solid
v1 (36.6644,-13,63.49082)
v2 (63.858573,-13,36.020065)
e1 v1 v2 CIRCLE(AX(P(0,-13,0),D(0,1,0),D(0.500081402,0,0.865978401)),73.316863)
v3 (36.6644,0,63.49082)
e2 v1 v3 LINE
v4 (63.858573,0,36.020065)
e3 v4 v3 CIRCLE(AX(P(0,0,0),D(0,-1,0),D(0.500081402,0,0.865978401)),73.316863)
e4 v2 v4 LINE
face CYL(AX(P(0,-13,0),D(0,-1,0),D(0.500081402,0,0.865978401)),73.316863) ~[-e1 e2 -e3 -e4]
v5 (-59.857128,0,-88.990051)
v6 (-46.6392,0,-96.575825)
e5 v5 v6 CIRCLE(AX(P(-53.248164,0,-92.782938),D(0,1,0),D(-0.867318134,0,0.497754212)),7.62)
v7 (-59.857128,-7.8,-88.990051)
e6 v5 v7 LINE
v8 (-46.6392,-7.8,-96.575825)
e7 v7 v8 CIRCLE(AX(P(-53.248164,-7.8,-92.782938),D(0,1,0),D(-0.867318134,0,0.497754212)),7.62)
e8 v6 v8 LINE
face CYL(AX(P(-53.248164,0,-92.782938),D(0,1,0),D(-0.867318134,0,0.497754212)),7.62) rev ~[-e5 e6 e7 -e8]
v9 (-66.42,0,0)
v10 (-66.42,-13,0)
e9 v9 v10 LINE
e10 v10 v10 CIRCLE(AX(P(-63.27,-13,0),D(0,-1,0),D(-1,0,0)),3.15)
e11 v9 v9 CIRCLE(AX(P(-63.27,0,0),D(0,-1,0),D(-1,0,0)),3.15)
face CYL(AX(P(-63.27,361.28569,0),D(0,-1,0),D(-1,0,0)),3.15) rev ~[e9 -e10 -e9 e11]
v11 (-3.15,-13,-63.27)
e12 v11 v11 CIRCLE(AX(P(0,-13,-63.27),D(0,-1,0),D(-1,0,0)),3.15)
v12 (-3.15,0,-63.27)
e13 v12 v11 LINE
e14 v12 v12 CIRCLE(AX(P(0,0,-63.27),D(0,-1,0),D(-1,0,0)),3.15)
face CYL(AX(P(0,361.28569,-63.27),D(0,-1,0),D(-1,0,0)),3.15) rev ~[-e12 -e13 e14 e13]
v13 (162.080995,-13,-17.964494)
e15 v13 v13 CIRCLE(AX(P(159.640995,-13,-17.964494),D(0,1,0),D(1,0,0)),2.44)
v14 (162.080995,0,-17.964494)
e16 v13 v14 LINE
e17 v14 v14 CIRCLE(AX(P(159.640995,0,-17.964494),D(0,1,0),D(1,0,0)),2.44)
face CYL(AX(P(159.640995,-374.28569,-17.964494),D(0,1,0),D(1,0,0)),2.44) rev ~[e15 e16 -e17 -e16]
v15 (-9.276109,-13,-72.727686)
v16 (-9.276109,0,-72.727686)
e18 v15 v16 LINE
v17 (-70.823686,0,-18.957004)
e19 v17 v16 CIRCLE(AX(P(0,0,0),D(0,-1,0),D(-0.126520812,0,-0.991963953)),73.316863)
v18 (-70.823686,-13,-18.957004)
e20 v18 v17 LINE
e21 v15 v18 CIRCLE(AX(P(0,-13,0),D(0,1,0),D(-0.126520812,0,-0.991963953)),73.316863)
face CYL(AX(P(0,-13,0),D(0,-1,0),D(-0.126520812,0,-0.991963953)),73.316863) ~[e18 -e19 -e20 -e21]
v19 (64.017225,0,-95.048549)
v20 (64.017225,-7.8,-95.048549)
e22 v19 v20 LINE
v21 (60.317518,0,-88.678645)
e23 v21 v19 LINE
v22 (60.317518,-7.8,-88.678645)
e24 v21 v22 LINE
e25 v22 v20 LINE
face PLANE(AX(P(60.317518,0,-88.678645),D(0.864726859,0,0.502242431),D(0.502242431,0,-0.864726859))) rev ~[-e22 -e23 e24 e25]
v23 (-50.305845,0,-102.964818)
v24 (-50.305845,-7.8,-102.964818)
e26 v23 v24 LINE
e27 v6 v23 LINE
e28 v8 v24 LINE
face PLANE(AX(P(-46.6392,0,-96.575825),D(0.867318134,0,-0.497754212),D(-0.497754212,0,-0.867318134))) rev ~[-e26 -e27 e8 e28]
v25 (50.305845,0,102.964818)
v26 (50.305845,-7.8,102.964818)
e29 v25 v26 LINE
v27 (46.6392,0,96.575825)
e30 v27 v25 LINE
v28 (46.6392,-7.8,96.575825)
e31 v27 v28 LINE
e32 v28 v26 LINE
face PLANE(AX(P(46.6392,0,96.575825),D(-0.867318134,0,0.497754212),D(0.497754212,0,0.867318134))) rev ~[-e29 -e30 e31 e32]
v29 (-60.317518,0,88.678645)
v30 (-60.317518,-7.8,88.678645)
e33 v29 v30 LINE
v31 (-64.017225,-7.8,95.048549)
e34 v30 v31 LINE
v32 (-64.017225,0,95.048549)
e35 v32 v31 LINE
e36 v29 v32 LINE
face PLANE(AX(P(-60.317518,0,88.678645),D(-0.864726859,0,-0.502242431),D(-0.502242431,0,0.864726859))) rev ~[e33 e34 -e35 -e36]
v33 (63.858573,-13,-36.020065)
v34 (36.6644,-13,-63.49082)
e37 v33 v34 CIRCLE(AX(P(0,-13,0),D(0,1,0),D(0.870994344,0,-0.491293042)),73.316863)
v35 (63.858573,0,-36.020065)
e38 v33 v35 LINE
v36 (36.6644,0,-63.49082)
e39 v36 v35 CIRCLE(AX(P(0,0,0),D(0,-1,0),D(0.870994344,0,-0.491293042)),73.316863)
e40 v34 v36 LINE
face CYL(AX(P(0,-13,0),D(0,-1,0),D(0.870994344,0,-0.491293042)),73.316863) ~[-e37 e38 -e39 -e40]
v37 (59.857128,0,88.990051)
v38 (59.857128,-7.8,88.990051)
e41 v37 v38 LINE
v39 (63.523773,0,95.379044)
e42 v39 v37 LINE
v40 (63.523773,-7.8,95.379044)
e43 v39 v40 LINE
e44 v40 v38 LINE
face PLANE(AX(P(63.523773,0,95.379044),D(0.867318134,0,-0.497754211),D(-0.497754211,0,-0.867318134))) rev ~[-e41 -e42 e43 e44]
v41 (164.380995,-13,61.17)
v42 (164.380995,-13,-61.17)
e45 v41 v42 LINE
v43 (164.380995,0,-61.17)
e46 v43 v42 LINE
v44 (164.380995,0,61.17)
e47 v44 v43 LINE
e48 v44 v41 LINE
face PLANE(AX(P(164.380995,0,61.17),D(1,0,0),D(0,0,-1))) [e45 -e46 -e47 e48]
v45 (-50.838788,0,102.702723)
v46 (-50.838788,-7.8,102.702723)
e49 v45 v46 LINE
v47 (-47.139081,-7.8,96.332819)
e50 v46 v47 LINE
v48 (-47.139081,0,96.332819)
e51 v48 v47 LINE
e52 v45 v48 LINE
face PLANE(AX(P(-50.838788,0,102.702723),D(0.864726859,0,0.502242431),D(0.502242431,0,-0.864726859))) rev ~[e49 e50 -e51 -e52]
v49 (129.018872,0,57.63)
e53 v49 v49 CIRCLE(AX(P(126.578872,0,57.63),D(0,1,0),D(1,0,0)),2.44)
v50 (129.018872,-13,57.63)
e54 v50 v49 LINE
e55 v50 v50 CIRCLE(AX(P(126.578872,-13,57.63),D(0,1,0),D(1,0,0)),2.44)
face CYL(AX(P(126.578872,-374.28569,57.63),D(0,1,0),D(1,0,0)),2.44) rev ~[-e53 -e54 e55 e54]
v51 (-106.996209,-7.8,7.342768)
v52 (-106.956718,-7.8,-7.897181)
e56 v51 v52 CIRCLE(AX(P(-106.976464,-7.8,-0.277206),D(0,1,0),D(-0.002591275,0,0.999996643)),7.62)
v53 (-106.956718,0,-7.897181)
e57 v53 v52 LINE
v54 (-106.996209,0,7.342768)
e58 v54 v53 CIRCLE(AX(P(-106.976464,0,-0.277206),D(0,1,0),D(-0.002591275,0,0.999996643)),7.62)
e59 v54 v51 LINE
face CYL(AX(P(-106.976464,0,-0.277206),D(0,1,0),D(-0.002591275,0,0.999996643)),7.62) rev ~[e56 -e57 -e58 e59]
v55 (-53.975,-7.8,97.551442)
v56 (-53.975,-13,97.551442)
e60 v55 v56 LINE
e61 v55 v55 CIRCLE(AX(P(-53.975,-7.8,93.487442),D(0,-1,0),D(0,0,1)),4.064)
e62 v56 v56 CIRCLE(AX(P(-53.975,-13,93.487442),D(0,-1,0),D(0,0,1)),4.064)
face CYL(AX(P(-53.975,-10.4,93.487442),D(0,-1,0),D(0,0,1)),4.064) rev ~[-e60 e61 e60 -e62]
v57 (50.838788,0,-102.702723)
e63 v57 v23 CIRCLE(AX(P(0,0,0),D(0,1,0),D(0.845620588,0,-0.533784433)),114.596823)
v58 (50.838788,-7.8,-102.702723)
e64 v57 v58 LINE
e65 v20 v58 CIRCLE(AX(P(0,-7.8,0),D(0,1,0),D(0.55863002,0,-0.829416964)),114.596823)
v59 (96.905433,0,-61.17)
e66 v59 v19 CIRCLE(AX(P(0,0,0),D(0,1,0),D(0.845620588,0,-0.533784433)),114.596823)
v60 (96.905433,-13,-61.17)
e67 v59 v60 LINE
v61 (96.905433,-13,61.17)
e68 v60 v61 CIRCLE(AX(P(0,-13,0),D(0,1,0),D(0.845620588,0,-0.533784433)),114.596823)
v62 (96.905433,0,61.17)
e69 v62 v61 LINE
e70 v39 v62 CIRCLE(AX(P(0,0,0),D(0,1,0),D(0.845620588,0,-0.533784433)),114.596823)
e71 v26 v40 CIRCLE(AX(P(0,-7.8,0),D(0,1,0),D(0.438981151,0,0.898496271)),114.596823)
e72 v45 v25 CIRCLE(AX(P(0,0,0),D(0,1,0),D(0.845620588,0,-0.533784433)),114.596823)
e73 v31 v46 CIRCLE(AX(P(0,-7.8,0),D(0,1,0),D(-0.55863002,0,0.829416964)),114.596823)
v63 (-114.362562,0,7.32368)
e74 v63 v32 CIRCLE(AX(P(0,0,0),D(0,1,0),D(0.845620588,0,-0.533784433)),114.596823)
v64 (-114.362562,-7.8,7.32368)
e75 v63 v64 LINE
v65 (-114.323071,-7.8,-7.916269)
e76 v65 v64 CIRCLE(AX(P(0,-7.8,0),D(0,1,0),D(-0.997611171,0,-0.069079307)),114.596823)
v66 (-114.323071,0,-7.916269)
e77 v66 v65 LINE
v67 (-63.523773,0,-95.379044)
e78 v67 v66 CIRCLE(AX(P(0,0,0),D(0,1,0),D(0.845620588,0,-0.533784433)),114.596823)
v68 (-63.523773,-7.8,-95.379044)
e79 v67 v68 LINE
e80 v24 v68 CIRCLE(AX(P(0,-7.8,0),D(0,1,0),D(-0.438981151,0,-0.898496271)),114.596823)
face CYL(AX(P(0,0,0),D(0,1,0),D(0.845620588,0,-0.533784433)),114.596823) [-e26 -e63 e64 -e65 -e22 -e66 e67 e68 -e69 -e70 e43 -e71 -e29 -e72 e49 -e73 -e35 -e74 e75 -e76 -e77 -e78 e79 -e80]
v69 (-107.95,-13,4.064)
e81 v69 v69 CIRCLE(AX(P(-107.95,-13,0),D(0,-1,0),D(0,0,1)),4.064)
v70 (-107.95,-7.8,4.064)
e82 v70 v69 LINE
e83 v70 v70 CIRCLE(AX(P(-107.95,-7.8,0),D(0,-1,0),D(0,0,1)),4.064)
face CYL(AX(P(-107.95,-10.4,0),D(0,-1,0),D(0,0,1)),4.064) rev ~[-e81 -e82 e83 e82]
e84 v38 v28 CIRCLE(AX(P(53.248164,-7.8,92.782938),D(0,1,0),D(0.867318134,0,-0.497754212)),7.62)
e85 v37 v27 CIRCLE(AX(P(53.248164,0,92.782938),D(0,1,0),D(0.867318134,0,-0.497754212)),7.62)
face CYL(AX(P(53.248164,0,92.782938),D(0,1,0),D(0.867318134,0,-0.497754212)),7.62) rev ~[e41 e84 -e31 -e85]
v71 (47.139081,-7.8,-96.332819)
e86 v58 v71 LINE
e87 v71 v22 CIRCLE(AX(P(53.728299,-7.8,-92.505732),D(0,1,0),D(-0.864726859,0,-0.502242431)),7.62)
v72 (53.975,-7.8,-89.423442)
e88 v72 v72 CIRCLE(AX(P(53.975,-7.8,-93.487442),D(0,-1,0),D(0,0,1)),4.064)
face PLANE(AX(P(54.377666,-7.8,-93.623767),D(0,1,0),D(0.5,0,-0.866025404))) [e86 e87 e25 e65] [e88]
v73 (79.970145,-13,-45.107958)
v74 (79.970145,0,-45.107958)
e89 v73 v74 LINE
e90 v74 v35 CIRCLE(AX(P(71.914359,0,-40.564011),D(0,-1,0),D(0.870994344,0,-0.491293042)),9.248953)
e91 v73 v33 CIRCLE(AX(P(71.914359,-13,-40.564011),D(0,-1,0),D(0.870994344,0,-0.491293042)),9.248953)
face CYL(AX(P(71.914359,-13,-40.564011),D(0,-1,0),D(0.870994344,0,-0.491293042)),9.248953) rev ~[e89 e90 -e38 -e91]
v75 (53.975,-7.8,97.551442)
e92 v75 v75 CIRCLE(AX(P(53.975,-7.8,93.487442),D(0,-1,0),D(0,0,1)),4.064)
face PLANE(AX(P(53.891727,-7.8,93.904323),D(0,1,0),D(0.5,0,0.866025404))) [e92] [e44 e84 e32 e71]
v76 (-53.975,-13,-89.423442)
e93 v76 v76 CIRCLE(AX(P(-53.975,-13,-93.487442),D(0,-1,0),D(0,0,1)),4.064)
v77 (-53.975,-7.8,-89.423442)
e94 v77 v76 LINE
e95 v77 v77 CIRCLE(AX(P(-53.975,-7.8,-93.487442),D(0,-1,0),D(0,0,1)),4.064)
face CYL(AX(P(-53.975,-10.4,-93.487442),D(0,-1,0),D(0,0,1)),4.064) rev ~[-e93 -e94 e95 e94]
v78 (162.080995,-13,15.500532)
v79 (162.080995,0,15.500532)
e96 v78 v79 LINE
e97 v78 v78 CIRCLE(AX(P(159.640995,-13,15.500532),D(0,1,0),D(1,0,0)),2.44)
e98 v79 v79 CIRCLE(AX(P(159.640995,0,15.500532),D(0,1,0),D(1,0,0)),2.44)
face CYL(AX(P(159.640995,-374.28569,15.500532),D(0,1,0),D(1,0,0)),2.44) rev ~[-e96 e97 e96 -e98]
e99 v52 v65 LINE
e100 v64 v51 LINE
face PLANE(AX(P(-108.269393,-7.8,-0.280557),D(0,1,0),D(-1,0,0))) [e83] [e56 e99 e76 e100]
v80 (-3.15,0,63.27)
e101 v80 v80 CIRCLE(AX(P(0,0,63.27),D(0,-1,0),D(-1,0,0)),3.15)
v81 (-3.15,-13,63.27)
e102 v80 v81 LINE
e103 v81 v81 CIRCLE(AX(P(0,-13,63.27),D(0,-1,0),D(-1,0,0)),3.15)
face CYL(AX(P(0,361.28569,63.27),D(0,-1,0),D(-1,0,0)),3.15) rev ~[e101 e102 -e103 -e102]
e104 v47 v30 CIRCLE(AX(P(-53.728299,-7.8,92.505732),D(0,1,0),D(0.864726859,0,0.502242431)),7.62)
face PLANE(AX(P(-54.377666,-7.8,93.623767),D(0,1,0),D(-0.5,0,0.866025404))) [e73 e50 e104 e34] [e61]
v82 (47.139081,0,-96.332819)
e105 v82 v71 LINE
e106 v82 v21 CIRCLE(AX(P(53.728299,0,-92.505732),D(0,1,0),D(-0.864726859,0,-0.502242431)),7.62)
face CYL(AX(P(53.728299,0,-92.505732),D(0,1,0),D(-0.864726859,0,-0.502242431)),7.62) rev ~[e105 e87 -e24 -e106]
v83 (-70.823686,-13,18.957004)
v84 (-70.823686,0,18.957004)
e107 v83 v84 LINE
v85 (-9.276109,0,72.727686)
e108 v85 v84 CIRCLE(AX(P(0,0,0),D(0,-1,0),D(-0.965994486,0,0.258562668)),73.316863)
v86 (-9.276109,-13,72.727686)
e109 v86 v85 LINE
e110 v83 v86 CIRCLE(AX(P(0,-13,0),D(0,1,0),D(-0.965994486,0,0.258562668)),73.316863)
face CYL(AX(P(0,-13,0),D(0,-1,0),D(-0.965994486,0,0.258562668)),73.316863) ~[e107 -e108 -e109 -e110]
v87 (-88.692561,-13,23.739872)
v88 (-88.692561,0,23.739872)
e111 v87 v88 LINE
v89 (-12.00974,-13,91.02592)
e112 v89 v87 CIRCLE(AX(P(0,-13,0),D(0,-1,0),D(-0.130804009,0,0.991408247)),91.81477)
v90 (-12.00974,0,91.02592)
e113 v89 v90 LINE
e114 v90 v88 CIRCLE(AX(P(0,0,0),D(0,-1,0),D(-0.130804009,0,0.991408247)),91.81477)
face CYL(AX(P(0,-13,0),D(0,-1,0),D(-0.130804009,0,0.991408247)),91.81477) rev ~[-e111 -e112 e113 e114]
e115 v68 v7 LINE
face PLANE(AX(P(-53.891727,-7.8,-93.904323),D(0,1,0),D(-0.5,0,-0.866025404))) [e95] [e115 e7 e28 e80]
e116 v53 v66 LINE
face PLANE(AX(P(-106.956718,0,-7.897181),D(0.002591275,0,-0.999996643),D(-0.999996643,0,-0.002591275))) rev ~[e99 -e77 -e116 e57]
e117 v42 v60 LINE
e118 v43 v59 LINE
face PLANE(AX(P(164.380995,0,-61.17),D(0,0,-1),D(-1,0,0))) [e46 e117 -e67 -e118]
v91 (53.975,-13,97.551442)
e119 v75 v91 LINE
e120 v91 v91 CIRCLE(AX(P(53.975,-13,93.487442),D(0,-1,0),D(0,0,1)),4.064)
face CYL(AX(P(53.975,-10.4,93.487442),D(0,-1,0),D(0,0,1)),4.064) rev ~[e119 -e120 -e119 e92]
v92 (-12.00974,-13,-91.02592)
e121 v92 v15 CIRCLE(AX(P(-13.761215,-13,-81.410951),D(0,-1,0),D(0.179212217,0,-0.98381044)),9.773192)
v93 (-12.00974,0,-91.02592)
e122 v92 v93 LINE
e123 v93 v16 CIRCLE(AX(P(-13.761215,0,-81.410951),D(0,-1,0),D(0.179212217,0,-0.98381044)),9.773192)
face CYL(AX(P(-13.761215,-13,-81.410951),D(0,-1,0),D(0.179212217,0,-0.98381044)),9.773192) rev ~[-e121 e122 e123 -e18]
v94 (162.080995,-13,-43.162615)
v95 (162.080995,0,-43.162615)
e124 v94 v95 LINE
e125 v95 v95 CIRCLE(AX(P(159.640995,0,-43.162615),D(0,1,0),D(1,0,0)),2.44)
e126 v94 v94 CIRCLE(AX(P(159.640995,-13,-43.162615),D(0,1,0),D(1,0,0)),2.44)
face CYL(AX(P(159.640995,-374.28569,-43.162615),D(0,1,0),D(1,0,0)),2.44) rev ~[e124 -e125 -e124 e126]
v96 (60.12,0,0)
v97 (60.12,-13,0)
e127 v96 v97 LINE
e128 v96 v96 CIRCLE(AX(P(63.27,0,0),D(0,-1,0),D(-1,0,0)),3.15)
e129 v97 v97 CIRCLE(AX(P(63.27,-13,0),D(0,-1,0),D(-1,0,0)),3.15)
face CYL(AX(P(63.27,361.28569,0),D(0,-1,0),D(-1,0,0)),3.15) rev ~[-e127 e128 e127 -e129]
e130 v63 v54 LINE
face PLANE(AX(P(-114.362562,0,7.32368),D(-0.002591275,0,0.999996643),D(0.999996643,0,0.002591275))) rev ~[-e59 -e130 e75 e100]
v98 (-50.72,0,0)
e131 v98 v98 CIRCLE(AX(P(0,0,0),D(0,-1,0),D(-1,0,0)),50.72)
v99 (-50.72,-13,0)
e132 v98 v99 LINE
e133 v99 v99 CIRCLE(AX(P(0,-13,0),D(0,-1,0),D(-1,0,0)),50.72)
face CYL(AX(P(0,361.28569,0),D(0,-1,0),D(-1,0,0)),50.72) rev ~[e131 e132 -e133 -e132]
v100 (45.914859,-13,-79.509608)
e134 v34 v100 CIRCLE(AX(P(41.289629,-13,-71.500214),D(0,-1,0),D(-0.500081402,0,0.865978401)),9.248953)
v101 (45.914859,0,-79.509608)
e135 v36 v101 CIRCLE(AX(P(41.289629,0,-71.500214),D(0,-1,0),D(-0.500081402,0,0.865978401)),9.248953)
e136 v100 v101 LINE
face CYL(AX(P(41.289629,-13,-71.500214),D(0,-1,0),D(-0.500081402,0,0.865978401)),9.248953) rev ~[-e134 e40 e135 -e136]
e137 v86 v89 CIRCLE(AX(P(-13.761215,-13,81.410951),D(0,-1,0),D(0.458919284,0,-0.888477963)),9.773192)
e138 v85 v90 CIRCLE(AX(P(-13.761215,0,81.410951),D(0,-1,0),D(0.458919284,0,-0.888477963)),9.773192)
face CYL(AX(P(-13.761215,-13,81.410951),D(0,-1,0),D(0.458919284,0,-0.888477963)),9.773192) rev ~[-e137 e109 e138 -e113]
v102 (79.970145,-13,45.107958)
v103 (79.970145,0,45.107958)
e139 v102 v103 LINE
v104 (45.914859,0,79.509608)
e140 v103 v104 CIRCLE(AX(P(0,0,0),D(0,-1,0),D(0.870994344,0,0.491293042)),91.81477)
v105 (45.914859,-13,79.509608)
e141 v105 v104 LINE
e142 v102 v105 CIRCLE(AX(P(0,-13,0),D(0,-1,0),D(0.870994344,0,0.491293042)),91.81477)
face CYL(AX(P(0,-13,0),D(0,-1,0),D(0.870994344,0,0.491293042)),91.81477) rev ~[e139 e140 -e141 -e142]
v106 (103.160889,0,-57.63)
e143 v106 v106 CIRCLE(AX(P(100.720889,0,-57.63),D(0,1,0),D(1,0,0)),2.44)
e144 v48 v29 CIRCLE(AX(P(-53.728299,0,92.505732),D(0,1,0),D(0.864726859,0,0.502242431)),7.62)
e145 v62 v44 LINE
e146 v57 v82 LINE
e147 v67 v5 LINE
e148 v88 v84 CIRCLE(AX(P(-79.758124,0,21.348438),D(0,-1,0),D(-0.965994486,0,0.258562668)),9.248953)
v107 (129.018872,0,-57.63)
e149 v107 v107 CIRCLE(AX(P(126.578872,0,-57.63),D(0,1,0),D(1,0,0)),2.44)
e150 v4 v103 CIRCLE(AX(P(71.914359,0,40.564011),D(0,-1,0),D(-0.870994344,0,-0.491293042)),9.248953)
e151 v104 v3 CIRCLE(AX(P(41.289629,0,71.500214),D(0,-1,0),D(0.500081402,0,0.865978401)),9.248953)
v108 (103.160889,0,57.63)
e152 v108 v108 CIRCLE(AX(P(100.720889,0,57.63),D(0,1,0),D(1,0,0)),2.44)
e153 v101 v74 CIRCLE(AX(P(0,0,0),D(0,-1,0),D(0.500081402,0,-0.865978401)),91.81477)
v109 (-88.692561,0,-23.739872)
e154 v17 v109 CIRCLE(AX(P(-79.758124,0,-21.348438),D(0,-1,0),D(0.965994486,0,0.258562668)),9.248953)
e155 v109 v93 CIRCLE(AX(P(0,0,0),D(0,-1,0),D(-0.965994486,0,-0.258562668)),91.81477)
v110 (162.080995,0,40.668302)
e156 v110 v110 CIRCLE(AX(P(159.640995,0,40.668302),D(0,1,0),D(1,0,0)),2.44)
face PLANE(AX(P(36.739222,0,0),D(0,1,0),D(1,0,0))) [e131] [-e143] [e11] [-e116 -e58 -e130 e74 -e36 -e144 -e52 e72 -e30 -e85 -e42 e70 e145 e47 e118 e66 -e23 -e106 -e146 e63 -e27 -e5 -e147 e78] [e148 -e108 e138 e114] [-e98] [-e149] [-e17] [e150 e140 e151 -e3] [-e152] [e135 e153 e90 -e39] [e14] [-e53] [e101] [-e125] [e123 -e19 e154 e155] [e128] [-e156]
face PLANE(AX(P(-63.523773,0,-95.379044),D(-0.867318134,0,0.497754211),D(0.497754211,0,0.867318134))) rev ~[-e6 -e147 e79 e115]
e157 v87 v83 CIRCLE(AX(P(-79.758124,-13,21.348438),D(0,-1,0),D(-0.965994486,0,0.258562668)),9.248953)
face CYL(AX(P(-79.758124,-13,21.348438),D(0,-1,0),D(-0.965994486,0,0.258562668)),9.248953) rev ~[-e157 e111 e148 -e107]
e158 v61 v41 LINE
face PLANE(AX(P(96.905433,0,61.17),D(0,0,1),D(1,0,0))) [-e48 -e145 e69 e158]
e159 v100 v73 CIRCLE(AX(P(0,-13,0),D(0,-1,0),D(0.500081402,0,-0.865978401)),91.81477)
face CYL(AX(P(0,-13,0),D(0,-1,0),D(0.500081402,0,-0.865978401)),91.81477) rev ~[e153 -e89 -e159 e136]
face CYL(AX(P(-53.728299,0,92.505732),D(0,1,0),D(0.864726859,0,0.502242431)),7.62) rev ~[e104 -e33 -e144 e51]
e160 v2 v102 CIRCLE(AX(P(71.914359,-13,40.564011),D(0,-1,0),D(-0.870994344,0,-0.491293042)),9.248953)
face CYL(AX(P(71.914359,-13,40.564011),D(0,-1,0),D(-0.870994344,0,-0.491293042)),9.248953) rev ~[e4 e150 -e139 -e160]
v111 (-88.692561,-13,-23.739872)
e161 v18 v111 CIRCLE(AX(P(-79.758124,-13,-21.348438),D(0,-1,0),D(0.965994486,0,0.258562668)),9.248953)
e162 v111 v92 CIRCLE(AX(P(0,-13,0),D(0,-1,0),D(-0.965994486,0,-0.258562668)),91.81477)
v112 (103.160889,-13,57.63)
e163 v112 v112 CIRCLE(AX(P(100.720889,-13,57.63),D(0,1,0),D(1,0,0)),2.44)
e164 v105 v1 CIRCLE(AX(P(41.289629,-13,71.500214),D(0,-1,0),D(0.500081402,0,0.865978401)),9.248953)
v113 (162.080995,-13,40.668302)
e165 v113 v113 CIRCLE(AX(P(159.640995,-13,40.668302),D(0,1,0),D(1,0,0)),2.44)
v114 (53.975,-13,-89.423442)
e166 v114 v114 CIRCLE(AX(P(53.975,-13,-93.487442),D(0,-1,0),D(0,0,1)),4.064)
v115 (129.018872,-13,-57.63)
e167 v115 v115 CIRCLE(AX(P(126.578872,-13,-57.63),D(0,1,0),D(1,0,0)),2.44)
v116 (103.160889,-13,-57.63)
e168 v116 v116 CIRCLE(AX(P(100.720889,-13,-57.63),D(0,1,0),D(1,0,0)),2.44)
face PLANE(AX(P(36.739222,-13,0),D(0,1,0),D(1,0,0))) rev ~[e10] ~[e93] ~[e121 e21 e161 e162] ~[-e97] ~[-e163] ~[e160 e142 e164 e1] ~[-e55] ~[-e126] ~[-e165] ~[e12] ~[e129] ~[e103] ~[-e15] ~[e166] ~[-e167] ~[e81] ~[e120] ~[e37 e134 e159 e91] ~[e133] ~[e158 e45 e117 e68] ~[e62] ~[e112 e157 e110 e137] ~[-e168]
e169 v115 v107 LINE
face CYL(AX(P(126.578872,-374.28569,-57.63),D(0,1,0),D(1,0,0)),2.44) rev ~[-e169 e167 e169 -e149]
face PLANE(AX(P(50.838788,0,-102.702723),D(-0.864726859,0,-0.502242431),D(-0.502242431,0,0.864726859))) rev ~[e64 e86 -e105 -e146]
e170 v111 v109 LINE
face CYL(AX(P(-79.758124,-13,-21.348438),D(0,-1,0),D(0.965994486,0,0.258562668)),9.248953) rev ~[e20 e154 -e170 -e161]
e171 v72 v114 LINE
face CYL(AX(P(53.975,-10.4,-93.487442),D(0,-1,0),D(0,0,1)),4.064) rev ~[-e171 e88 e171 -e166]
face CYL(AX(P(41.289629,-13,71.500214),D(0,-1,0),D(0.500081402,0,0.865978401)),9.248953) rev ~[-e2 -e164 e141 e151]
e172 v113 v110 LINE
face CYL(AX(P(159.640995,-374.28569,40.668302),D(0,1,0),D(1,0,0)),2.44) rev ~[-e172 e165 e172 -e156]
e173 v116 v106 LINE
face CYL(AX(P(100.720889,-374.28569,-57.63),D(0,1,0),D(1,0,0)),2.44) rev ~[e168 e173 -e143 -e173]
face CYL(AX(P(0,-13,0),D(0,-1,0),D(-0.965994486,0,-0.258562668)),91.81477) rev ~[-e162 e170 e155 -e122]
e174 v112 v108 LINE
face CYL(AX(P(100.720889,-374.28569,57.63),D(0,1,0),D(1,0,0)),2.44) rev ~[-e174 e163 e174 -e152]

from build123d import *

# Parameters (mm, degrees)
BOSS_EXTRUDE1_DEPTH              = 13
CUT_EXTRUDE1_DEPTH               = 201.804739102
CUT_EXTRUDE2_DEPTH               = 201.804739102
CUT_EXTRUDE3_DEPTH               = 201.804739102
CUT_EXTRUDE4_DEPTH               = 201.804739102
CUT_EXTRUDE5_DEPTH               = 7.8
SKETCH9_W                        = 4.064
SKETCH9_H                        = 5.2
F_1_4_CLEARANCE_HOLE1_AT_2_COUNT = 2
F_1_4_CLEARANCE_HOLE1_AT_2_PITCH = 107.95
F_1_4_CLEARANCE_HOLE1_AT_3_COUNT = 2
F_1_4_CLEARANCE_HOLE1_AT_3_PITCH = 186.974884677
F_1_4_CLEARANCE_HOLE1_AT_4_COUNT = 2
F_1_4_CLEARANCE_HOLE1_AT_4_PITCH = 215.9
F_1_4_CLEARANCE_HOLE1_AT_5_COUNT = 2
F_1_4_CLEARANCE_HOLE1_AT_5_PITCH = 107.95
HOLE1_D                          = 6.3
HOLE2_D                          = 101.44
F_8_CLEARANCE_HOLE1_D            = 4.88
CIRPATTERN2_COUNT                = 6


with BuildPart() as part:
    # Sketch1 → Boss-Extrude1 (new body)
    with BuildSketch(Plane(origin=(0, 0, 0), x_dir=(1, 0, 0), z_dir=(0, 1, 0))):
        with BuildLine():
            Line((164.38099488, 61.17), (96.905432604, 61.17))
            ThreePointArc((96.905432604, 61.17), (-114.596822679, 0), (96.905432604, -61.17))
            Line((96.905432604, -61.17), (164.38099488, -61.17))
            Line((164.38099488, -61.17), (164.38099488, 61.17))
        make_face()
    extrude(amount=-BOSS_EXTRUDE1_DEPTH)

    # Sketch2 → Cut-Extrude1 (cut, through all)
    with BuildSketch(Plane.XZ.offset(13)):
        with BuildLine():
            ThreePointArc((36.664399822, -63.490820086), (33.280235587, -76.125443336), (45.914858837, -79.509607572))
            ThreePointArc((45.914858837, -79.509607572), (65.250493783, -64.593536978), (79.970145175, -45.107957601))
            ThreePointArc((79.970145175, -45.107957601), (76.458305593, -32.508225263), (63.858573255, -36.020064845))
            ThreePointArc((63.858573255, -36.020064845), (52.104487594, -51.579887768), (36.664399822, -63.490820086))
        make_face()
    extrude(amount=-CUT_EXTRUDE1_DEPTH, mode=Mode.SUBTRACT)

    # Sketch3 → Cut-Extrude2 (cut, through all)
    with BuildSketch(Plane.XZ.offset(13)):
        with BuildLine():
            ThreePointArc((45.914858837, 79.509607572), (33.280235587, 76.125443336), (36.664399822, 63.490820086))
            ThreePointArc((36.664399822, 63.490820086), (52.104487594, 51.579887768), (63.858573255, 36.020064845))
            ThreePointArc((63.858573255, 36.020064845), (76.458305593, 32.508225263), (79.970145175, 45.107957601))
            ThreePointArc((79.970145175, 45.107957601), (65.250493783, 64.593536978), (45.914858837, 79.509607572))
        make_face()
    extrude(amount=-CUT_EXTRUDE2_DEPTH, mode=Mode.SUBTRACT)

    # Sketch4 → Cut-Extrude3 (cut, through all)
    with BuildSketch(Plane.XZ.offset(13)):
        with BuildLine():
            ThreePointArc((-12.00973997, -91.025919957), (-4.095291585, -82.854974293), (-9.276109056, -72.727685583))
            ThreePointArc((-9.276109056, -72.727685583), (-48.237079471, -55.213645176), (-70.823685709, -18.957003774))
            ThreePointArc((-70.823685709, -18.957003774), (-82.149557569, -12.413999964), (-88.692561379, -23.739871823))
            ThreePointArc((-88.692561379, -23.739871823), (-60.556514452, -69.01348068), (-12.00973997, -91.025919957))
        make_face()
    extrude(amount=-CUT_EXTRUDE3_DEPTH, mode=Mode.SUBTRACT)

    # Sketch5 → Cut-Extrude4 (cut, through all)
    with BuildSketch(Plane.XZ.offset(13)):
        with BuildLine():
            ThreePointArc((-88.692561379, 23.739871823), (-82.149557569, 12.413999964), (-70.823685709, 18.957003774))
            ThreePointArc((-70.823685709, 18.957003774), (-48.237079471, 55.213645176), (-9.276109056, 72.727685583))
            ThreePointArc((-9.276109056, 72.727685583), (-4.095291585, 82.854974293), (-12.00973997, 91.025919957))
            ThreePointArc((-12.00973997, 91.025919957), (-60.556514452, 69.01348068), (-88.692561379, 23.739871823))
        make_face()
    extrude(amount=-CUT_EXTRUDE4_DEPTH, mode=Mode.SUBTRACT)

    # Sketch6 → Cut-Extrude5 (cut)
    with BuildSketch(Plane(origin=(0, 0, 0), x_dir=(-1, 0, 0), z_dir=(0, 1, 0))):
        with BuildLine():
            Line((114.362561544, 7.323679763), (106.996209034, 7.342768071))
            ThreePointArc((106.996209034, 7.342768071), (99.356489103, -0.257460832), (106.956718006, -7.897180763))
            Line((106.956718006, -7.897180763), (114.323070516, -7.91626907))
            ThreePointArc((114.323070516, -7.91626907), (114.596437937, -0.29695186), (114.362561544, 7.323679763))
        make_face()
    cut_extrude5 = extrude(amount=-CUT_EXTRUDE5_DEPTH, mode=Mode.SUBTRACT)

    # Sketch9 → 1/4 Clearance Hole1 (revolve, cut)
    with BuildSketch(Plane(origin=(-53.975, -7.8, 93.487442339), x_dir=(0, 0, 1), z_dir=(1, 0, 0))):
        with Locations((2.032, 2.6)):
            Rectangle(SKETCH9_W, SKETCH9_H)
    f_1_4_clearance_hole1 = revolve(axis=Axis((-53.975, -1.45, 93.487442339), (0, -1, 0)), mode=Mode.SUBTRACT)

    # 1/4 Clearance Hole1 at 2: 1/4 Clearance Hole1 ×2
    with Locations(*[Vector(-0.499999999999995, 0, -0.8660254037844416) * (i * F_1_4_CLEARANCE_HOLE1_AT_2_PITCH) for i in range(1, F_1_4_CLEARANCE_HOLE1_AT_2_COUNT)]):
        add(f_1_4_clearance_hole1, mode=Mode.SUBTRACT)

    # 1/4 Clearance Hole1 at 3: 1/4 Clearance Hole1 ×2
    with Locations(*[(0, 0, -i * F_1_4_CLEARANCE_HOLE1_AT_3_PITCH) for i in range(1, F_1_4_CLEARANCE_HOLE1_AT_3_COUNT)]):
        add(f_1_4_clearance_hole1, mode=Mode.SUBTRACT)

    # 1/4 Clearance Hole1 at 4: 1/4 Clearance Hole1 ×2
    with Locations(*[Vector(0.5000000000000071, 0, -0.8660254037844346) * (i * F_1_4_CLEARANCE_HOLE1_AT_4_PITCH) for i in range(1, F_1_4_CLEARANCE_HOLE1_AT_4_COUNT)]):
        add(f_1_4_clearance_hole1, mode=Mode.SUBTRACT)

    # 1/4 Clearance Hole1 at 5: 1/4 Clearance Hole1 ×2
    with Locations(*[(i * F_1_4_CLEARANCE_HOLE1_AT_5_PITCH, 0, 0) for i in range(1, F_1_4_CLEARANCE_HOLE1_AT_5_COUNT)]):
        add(f_1_4_clearance_hole1, mode=Mode.SUBTRACT)

    # Hole1 (through all)
    with Locations(Plane(origin=(0, 0, 0), x_dir=(1, 0, 0), z_dir=(0, 1, 0))):
        with Locations((63.27, 0), (0, -63.27), (-63.27, 0), (0, 63.27)):
            Hole(HOLE1_D / 2)

    # Hole2 (through all)
    with Locations(Plane(origin=(0, 0, 0), x_dir=(1, 0, 0), z_dir=(0, 1, 0))):
        with Locations((0, 0)):
            Hole(HOLE2_D / 2)

    # #8 Clearance Hole1 (through all)
    with Locations(Plane(origin=(0, -13, 0), x_dir=(-1, 0, 0), z_dir=(0, -1, 0))):
        with Locations((-159.64099488, -40.668301559), (-159.64099488, 17.964494153), (-126.578871671, 57.63), (-126.578871671, -57.63), (-159.64099488, 43.162614752), (-159.64099488, -15.500531602), (-100.720889468, 57.63), (-100.720889468, -57.63)):
            Hole(F_8_CLEARANCE_HOLE1_D / 2)

    # CirPattern2: Cut-Extrude5 ×6 about axis, 1 skipped
    cirpattern2_axis = Axis((0, 0, 0), (0, 1, 0))
    add([cut_extrude5.rotate(cirpattern2_axis, i * 360 / CIRPATTERN2_COUNT) for i in range(1, CIRPATTERN2_COUNT) if i not in (3,)], mode=Mode.SUBTRACT)


solid = part.part
